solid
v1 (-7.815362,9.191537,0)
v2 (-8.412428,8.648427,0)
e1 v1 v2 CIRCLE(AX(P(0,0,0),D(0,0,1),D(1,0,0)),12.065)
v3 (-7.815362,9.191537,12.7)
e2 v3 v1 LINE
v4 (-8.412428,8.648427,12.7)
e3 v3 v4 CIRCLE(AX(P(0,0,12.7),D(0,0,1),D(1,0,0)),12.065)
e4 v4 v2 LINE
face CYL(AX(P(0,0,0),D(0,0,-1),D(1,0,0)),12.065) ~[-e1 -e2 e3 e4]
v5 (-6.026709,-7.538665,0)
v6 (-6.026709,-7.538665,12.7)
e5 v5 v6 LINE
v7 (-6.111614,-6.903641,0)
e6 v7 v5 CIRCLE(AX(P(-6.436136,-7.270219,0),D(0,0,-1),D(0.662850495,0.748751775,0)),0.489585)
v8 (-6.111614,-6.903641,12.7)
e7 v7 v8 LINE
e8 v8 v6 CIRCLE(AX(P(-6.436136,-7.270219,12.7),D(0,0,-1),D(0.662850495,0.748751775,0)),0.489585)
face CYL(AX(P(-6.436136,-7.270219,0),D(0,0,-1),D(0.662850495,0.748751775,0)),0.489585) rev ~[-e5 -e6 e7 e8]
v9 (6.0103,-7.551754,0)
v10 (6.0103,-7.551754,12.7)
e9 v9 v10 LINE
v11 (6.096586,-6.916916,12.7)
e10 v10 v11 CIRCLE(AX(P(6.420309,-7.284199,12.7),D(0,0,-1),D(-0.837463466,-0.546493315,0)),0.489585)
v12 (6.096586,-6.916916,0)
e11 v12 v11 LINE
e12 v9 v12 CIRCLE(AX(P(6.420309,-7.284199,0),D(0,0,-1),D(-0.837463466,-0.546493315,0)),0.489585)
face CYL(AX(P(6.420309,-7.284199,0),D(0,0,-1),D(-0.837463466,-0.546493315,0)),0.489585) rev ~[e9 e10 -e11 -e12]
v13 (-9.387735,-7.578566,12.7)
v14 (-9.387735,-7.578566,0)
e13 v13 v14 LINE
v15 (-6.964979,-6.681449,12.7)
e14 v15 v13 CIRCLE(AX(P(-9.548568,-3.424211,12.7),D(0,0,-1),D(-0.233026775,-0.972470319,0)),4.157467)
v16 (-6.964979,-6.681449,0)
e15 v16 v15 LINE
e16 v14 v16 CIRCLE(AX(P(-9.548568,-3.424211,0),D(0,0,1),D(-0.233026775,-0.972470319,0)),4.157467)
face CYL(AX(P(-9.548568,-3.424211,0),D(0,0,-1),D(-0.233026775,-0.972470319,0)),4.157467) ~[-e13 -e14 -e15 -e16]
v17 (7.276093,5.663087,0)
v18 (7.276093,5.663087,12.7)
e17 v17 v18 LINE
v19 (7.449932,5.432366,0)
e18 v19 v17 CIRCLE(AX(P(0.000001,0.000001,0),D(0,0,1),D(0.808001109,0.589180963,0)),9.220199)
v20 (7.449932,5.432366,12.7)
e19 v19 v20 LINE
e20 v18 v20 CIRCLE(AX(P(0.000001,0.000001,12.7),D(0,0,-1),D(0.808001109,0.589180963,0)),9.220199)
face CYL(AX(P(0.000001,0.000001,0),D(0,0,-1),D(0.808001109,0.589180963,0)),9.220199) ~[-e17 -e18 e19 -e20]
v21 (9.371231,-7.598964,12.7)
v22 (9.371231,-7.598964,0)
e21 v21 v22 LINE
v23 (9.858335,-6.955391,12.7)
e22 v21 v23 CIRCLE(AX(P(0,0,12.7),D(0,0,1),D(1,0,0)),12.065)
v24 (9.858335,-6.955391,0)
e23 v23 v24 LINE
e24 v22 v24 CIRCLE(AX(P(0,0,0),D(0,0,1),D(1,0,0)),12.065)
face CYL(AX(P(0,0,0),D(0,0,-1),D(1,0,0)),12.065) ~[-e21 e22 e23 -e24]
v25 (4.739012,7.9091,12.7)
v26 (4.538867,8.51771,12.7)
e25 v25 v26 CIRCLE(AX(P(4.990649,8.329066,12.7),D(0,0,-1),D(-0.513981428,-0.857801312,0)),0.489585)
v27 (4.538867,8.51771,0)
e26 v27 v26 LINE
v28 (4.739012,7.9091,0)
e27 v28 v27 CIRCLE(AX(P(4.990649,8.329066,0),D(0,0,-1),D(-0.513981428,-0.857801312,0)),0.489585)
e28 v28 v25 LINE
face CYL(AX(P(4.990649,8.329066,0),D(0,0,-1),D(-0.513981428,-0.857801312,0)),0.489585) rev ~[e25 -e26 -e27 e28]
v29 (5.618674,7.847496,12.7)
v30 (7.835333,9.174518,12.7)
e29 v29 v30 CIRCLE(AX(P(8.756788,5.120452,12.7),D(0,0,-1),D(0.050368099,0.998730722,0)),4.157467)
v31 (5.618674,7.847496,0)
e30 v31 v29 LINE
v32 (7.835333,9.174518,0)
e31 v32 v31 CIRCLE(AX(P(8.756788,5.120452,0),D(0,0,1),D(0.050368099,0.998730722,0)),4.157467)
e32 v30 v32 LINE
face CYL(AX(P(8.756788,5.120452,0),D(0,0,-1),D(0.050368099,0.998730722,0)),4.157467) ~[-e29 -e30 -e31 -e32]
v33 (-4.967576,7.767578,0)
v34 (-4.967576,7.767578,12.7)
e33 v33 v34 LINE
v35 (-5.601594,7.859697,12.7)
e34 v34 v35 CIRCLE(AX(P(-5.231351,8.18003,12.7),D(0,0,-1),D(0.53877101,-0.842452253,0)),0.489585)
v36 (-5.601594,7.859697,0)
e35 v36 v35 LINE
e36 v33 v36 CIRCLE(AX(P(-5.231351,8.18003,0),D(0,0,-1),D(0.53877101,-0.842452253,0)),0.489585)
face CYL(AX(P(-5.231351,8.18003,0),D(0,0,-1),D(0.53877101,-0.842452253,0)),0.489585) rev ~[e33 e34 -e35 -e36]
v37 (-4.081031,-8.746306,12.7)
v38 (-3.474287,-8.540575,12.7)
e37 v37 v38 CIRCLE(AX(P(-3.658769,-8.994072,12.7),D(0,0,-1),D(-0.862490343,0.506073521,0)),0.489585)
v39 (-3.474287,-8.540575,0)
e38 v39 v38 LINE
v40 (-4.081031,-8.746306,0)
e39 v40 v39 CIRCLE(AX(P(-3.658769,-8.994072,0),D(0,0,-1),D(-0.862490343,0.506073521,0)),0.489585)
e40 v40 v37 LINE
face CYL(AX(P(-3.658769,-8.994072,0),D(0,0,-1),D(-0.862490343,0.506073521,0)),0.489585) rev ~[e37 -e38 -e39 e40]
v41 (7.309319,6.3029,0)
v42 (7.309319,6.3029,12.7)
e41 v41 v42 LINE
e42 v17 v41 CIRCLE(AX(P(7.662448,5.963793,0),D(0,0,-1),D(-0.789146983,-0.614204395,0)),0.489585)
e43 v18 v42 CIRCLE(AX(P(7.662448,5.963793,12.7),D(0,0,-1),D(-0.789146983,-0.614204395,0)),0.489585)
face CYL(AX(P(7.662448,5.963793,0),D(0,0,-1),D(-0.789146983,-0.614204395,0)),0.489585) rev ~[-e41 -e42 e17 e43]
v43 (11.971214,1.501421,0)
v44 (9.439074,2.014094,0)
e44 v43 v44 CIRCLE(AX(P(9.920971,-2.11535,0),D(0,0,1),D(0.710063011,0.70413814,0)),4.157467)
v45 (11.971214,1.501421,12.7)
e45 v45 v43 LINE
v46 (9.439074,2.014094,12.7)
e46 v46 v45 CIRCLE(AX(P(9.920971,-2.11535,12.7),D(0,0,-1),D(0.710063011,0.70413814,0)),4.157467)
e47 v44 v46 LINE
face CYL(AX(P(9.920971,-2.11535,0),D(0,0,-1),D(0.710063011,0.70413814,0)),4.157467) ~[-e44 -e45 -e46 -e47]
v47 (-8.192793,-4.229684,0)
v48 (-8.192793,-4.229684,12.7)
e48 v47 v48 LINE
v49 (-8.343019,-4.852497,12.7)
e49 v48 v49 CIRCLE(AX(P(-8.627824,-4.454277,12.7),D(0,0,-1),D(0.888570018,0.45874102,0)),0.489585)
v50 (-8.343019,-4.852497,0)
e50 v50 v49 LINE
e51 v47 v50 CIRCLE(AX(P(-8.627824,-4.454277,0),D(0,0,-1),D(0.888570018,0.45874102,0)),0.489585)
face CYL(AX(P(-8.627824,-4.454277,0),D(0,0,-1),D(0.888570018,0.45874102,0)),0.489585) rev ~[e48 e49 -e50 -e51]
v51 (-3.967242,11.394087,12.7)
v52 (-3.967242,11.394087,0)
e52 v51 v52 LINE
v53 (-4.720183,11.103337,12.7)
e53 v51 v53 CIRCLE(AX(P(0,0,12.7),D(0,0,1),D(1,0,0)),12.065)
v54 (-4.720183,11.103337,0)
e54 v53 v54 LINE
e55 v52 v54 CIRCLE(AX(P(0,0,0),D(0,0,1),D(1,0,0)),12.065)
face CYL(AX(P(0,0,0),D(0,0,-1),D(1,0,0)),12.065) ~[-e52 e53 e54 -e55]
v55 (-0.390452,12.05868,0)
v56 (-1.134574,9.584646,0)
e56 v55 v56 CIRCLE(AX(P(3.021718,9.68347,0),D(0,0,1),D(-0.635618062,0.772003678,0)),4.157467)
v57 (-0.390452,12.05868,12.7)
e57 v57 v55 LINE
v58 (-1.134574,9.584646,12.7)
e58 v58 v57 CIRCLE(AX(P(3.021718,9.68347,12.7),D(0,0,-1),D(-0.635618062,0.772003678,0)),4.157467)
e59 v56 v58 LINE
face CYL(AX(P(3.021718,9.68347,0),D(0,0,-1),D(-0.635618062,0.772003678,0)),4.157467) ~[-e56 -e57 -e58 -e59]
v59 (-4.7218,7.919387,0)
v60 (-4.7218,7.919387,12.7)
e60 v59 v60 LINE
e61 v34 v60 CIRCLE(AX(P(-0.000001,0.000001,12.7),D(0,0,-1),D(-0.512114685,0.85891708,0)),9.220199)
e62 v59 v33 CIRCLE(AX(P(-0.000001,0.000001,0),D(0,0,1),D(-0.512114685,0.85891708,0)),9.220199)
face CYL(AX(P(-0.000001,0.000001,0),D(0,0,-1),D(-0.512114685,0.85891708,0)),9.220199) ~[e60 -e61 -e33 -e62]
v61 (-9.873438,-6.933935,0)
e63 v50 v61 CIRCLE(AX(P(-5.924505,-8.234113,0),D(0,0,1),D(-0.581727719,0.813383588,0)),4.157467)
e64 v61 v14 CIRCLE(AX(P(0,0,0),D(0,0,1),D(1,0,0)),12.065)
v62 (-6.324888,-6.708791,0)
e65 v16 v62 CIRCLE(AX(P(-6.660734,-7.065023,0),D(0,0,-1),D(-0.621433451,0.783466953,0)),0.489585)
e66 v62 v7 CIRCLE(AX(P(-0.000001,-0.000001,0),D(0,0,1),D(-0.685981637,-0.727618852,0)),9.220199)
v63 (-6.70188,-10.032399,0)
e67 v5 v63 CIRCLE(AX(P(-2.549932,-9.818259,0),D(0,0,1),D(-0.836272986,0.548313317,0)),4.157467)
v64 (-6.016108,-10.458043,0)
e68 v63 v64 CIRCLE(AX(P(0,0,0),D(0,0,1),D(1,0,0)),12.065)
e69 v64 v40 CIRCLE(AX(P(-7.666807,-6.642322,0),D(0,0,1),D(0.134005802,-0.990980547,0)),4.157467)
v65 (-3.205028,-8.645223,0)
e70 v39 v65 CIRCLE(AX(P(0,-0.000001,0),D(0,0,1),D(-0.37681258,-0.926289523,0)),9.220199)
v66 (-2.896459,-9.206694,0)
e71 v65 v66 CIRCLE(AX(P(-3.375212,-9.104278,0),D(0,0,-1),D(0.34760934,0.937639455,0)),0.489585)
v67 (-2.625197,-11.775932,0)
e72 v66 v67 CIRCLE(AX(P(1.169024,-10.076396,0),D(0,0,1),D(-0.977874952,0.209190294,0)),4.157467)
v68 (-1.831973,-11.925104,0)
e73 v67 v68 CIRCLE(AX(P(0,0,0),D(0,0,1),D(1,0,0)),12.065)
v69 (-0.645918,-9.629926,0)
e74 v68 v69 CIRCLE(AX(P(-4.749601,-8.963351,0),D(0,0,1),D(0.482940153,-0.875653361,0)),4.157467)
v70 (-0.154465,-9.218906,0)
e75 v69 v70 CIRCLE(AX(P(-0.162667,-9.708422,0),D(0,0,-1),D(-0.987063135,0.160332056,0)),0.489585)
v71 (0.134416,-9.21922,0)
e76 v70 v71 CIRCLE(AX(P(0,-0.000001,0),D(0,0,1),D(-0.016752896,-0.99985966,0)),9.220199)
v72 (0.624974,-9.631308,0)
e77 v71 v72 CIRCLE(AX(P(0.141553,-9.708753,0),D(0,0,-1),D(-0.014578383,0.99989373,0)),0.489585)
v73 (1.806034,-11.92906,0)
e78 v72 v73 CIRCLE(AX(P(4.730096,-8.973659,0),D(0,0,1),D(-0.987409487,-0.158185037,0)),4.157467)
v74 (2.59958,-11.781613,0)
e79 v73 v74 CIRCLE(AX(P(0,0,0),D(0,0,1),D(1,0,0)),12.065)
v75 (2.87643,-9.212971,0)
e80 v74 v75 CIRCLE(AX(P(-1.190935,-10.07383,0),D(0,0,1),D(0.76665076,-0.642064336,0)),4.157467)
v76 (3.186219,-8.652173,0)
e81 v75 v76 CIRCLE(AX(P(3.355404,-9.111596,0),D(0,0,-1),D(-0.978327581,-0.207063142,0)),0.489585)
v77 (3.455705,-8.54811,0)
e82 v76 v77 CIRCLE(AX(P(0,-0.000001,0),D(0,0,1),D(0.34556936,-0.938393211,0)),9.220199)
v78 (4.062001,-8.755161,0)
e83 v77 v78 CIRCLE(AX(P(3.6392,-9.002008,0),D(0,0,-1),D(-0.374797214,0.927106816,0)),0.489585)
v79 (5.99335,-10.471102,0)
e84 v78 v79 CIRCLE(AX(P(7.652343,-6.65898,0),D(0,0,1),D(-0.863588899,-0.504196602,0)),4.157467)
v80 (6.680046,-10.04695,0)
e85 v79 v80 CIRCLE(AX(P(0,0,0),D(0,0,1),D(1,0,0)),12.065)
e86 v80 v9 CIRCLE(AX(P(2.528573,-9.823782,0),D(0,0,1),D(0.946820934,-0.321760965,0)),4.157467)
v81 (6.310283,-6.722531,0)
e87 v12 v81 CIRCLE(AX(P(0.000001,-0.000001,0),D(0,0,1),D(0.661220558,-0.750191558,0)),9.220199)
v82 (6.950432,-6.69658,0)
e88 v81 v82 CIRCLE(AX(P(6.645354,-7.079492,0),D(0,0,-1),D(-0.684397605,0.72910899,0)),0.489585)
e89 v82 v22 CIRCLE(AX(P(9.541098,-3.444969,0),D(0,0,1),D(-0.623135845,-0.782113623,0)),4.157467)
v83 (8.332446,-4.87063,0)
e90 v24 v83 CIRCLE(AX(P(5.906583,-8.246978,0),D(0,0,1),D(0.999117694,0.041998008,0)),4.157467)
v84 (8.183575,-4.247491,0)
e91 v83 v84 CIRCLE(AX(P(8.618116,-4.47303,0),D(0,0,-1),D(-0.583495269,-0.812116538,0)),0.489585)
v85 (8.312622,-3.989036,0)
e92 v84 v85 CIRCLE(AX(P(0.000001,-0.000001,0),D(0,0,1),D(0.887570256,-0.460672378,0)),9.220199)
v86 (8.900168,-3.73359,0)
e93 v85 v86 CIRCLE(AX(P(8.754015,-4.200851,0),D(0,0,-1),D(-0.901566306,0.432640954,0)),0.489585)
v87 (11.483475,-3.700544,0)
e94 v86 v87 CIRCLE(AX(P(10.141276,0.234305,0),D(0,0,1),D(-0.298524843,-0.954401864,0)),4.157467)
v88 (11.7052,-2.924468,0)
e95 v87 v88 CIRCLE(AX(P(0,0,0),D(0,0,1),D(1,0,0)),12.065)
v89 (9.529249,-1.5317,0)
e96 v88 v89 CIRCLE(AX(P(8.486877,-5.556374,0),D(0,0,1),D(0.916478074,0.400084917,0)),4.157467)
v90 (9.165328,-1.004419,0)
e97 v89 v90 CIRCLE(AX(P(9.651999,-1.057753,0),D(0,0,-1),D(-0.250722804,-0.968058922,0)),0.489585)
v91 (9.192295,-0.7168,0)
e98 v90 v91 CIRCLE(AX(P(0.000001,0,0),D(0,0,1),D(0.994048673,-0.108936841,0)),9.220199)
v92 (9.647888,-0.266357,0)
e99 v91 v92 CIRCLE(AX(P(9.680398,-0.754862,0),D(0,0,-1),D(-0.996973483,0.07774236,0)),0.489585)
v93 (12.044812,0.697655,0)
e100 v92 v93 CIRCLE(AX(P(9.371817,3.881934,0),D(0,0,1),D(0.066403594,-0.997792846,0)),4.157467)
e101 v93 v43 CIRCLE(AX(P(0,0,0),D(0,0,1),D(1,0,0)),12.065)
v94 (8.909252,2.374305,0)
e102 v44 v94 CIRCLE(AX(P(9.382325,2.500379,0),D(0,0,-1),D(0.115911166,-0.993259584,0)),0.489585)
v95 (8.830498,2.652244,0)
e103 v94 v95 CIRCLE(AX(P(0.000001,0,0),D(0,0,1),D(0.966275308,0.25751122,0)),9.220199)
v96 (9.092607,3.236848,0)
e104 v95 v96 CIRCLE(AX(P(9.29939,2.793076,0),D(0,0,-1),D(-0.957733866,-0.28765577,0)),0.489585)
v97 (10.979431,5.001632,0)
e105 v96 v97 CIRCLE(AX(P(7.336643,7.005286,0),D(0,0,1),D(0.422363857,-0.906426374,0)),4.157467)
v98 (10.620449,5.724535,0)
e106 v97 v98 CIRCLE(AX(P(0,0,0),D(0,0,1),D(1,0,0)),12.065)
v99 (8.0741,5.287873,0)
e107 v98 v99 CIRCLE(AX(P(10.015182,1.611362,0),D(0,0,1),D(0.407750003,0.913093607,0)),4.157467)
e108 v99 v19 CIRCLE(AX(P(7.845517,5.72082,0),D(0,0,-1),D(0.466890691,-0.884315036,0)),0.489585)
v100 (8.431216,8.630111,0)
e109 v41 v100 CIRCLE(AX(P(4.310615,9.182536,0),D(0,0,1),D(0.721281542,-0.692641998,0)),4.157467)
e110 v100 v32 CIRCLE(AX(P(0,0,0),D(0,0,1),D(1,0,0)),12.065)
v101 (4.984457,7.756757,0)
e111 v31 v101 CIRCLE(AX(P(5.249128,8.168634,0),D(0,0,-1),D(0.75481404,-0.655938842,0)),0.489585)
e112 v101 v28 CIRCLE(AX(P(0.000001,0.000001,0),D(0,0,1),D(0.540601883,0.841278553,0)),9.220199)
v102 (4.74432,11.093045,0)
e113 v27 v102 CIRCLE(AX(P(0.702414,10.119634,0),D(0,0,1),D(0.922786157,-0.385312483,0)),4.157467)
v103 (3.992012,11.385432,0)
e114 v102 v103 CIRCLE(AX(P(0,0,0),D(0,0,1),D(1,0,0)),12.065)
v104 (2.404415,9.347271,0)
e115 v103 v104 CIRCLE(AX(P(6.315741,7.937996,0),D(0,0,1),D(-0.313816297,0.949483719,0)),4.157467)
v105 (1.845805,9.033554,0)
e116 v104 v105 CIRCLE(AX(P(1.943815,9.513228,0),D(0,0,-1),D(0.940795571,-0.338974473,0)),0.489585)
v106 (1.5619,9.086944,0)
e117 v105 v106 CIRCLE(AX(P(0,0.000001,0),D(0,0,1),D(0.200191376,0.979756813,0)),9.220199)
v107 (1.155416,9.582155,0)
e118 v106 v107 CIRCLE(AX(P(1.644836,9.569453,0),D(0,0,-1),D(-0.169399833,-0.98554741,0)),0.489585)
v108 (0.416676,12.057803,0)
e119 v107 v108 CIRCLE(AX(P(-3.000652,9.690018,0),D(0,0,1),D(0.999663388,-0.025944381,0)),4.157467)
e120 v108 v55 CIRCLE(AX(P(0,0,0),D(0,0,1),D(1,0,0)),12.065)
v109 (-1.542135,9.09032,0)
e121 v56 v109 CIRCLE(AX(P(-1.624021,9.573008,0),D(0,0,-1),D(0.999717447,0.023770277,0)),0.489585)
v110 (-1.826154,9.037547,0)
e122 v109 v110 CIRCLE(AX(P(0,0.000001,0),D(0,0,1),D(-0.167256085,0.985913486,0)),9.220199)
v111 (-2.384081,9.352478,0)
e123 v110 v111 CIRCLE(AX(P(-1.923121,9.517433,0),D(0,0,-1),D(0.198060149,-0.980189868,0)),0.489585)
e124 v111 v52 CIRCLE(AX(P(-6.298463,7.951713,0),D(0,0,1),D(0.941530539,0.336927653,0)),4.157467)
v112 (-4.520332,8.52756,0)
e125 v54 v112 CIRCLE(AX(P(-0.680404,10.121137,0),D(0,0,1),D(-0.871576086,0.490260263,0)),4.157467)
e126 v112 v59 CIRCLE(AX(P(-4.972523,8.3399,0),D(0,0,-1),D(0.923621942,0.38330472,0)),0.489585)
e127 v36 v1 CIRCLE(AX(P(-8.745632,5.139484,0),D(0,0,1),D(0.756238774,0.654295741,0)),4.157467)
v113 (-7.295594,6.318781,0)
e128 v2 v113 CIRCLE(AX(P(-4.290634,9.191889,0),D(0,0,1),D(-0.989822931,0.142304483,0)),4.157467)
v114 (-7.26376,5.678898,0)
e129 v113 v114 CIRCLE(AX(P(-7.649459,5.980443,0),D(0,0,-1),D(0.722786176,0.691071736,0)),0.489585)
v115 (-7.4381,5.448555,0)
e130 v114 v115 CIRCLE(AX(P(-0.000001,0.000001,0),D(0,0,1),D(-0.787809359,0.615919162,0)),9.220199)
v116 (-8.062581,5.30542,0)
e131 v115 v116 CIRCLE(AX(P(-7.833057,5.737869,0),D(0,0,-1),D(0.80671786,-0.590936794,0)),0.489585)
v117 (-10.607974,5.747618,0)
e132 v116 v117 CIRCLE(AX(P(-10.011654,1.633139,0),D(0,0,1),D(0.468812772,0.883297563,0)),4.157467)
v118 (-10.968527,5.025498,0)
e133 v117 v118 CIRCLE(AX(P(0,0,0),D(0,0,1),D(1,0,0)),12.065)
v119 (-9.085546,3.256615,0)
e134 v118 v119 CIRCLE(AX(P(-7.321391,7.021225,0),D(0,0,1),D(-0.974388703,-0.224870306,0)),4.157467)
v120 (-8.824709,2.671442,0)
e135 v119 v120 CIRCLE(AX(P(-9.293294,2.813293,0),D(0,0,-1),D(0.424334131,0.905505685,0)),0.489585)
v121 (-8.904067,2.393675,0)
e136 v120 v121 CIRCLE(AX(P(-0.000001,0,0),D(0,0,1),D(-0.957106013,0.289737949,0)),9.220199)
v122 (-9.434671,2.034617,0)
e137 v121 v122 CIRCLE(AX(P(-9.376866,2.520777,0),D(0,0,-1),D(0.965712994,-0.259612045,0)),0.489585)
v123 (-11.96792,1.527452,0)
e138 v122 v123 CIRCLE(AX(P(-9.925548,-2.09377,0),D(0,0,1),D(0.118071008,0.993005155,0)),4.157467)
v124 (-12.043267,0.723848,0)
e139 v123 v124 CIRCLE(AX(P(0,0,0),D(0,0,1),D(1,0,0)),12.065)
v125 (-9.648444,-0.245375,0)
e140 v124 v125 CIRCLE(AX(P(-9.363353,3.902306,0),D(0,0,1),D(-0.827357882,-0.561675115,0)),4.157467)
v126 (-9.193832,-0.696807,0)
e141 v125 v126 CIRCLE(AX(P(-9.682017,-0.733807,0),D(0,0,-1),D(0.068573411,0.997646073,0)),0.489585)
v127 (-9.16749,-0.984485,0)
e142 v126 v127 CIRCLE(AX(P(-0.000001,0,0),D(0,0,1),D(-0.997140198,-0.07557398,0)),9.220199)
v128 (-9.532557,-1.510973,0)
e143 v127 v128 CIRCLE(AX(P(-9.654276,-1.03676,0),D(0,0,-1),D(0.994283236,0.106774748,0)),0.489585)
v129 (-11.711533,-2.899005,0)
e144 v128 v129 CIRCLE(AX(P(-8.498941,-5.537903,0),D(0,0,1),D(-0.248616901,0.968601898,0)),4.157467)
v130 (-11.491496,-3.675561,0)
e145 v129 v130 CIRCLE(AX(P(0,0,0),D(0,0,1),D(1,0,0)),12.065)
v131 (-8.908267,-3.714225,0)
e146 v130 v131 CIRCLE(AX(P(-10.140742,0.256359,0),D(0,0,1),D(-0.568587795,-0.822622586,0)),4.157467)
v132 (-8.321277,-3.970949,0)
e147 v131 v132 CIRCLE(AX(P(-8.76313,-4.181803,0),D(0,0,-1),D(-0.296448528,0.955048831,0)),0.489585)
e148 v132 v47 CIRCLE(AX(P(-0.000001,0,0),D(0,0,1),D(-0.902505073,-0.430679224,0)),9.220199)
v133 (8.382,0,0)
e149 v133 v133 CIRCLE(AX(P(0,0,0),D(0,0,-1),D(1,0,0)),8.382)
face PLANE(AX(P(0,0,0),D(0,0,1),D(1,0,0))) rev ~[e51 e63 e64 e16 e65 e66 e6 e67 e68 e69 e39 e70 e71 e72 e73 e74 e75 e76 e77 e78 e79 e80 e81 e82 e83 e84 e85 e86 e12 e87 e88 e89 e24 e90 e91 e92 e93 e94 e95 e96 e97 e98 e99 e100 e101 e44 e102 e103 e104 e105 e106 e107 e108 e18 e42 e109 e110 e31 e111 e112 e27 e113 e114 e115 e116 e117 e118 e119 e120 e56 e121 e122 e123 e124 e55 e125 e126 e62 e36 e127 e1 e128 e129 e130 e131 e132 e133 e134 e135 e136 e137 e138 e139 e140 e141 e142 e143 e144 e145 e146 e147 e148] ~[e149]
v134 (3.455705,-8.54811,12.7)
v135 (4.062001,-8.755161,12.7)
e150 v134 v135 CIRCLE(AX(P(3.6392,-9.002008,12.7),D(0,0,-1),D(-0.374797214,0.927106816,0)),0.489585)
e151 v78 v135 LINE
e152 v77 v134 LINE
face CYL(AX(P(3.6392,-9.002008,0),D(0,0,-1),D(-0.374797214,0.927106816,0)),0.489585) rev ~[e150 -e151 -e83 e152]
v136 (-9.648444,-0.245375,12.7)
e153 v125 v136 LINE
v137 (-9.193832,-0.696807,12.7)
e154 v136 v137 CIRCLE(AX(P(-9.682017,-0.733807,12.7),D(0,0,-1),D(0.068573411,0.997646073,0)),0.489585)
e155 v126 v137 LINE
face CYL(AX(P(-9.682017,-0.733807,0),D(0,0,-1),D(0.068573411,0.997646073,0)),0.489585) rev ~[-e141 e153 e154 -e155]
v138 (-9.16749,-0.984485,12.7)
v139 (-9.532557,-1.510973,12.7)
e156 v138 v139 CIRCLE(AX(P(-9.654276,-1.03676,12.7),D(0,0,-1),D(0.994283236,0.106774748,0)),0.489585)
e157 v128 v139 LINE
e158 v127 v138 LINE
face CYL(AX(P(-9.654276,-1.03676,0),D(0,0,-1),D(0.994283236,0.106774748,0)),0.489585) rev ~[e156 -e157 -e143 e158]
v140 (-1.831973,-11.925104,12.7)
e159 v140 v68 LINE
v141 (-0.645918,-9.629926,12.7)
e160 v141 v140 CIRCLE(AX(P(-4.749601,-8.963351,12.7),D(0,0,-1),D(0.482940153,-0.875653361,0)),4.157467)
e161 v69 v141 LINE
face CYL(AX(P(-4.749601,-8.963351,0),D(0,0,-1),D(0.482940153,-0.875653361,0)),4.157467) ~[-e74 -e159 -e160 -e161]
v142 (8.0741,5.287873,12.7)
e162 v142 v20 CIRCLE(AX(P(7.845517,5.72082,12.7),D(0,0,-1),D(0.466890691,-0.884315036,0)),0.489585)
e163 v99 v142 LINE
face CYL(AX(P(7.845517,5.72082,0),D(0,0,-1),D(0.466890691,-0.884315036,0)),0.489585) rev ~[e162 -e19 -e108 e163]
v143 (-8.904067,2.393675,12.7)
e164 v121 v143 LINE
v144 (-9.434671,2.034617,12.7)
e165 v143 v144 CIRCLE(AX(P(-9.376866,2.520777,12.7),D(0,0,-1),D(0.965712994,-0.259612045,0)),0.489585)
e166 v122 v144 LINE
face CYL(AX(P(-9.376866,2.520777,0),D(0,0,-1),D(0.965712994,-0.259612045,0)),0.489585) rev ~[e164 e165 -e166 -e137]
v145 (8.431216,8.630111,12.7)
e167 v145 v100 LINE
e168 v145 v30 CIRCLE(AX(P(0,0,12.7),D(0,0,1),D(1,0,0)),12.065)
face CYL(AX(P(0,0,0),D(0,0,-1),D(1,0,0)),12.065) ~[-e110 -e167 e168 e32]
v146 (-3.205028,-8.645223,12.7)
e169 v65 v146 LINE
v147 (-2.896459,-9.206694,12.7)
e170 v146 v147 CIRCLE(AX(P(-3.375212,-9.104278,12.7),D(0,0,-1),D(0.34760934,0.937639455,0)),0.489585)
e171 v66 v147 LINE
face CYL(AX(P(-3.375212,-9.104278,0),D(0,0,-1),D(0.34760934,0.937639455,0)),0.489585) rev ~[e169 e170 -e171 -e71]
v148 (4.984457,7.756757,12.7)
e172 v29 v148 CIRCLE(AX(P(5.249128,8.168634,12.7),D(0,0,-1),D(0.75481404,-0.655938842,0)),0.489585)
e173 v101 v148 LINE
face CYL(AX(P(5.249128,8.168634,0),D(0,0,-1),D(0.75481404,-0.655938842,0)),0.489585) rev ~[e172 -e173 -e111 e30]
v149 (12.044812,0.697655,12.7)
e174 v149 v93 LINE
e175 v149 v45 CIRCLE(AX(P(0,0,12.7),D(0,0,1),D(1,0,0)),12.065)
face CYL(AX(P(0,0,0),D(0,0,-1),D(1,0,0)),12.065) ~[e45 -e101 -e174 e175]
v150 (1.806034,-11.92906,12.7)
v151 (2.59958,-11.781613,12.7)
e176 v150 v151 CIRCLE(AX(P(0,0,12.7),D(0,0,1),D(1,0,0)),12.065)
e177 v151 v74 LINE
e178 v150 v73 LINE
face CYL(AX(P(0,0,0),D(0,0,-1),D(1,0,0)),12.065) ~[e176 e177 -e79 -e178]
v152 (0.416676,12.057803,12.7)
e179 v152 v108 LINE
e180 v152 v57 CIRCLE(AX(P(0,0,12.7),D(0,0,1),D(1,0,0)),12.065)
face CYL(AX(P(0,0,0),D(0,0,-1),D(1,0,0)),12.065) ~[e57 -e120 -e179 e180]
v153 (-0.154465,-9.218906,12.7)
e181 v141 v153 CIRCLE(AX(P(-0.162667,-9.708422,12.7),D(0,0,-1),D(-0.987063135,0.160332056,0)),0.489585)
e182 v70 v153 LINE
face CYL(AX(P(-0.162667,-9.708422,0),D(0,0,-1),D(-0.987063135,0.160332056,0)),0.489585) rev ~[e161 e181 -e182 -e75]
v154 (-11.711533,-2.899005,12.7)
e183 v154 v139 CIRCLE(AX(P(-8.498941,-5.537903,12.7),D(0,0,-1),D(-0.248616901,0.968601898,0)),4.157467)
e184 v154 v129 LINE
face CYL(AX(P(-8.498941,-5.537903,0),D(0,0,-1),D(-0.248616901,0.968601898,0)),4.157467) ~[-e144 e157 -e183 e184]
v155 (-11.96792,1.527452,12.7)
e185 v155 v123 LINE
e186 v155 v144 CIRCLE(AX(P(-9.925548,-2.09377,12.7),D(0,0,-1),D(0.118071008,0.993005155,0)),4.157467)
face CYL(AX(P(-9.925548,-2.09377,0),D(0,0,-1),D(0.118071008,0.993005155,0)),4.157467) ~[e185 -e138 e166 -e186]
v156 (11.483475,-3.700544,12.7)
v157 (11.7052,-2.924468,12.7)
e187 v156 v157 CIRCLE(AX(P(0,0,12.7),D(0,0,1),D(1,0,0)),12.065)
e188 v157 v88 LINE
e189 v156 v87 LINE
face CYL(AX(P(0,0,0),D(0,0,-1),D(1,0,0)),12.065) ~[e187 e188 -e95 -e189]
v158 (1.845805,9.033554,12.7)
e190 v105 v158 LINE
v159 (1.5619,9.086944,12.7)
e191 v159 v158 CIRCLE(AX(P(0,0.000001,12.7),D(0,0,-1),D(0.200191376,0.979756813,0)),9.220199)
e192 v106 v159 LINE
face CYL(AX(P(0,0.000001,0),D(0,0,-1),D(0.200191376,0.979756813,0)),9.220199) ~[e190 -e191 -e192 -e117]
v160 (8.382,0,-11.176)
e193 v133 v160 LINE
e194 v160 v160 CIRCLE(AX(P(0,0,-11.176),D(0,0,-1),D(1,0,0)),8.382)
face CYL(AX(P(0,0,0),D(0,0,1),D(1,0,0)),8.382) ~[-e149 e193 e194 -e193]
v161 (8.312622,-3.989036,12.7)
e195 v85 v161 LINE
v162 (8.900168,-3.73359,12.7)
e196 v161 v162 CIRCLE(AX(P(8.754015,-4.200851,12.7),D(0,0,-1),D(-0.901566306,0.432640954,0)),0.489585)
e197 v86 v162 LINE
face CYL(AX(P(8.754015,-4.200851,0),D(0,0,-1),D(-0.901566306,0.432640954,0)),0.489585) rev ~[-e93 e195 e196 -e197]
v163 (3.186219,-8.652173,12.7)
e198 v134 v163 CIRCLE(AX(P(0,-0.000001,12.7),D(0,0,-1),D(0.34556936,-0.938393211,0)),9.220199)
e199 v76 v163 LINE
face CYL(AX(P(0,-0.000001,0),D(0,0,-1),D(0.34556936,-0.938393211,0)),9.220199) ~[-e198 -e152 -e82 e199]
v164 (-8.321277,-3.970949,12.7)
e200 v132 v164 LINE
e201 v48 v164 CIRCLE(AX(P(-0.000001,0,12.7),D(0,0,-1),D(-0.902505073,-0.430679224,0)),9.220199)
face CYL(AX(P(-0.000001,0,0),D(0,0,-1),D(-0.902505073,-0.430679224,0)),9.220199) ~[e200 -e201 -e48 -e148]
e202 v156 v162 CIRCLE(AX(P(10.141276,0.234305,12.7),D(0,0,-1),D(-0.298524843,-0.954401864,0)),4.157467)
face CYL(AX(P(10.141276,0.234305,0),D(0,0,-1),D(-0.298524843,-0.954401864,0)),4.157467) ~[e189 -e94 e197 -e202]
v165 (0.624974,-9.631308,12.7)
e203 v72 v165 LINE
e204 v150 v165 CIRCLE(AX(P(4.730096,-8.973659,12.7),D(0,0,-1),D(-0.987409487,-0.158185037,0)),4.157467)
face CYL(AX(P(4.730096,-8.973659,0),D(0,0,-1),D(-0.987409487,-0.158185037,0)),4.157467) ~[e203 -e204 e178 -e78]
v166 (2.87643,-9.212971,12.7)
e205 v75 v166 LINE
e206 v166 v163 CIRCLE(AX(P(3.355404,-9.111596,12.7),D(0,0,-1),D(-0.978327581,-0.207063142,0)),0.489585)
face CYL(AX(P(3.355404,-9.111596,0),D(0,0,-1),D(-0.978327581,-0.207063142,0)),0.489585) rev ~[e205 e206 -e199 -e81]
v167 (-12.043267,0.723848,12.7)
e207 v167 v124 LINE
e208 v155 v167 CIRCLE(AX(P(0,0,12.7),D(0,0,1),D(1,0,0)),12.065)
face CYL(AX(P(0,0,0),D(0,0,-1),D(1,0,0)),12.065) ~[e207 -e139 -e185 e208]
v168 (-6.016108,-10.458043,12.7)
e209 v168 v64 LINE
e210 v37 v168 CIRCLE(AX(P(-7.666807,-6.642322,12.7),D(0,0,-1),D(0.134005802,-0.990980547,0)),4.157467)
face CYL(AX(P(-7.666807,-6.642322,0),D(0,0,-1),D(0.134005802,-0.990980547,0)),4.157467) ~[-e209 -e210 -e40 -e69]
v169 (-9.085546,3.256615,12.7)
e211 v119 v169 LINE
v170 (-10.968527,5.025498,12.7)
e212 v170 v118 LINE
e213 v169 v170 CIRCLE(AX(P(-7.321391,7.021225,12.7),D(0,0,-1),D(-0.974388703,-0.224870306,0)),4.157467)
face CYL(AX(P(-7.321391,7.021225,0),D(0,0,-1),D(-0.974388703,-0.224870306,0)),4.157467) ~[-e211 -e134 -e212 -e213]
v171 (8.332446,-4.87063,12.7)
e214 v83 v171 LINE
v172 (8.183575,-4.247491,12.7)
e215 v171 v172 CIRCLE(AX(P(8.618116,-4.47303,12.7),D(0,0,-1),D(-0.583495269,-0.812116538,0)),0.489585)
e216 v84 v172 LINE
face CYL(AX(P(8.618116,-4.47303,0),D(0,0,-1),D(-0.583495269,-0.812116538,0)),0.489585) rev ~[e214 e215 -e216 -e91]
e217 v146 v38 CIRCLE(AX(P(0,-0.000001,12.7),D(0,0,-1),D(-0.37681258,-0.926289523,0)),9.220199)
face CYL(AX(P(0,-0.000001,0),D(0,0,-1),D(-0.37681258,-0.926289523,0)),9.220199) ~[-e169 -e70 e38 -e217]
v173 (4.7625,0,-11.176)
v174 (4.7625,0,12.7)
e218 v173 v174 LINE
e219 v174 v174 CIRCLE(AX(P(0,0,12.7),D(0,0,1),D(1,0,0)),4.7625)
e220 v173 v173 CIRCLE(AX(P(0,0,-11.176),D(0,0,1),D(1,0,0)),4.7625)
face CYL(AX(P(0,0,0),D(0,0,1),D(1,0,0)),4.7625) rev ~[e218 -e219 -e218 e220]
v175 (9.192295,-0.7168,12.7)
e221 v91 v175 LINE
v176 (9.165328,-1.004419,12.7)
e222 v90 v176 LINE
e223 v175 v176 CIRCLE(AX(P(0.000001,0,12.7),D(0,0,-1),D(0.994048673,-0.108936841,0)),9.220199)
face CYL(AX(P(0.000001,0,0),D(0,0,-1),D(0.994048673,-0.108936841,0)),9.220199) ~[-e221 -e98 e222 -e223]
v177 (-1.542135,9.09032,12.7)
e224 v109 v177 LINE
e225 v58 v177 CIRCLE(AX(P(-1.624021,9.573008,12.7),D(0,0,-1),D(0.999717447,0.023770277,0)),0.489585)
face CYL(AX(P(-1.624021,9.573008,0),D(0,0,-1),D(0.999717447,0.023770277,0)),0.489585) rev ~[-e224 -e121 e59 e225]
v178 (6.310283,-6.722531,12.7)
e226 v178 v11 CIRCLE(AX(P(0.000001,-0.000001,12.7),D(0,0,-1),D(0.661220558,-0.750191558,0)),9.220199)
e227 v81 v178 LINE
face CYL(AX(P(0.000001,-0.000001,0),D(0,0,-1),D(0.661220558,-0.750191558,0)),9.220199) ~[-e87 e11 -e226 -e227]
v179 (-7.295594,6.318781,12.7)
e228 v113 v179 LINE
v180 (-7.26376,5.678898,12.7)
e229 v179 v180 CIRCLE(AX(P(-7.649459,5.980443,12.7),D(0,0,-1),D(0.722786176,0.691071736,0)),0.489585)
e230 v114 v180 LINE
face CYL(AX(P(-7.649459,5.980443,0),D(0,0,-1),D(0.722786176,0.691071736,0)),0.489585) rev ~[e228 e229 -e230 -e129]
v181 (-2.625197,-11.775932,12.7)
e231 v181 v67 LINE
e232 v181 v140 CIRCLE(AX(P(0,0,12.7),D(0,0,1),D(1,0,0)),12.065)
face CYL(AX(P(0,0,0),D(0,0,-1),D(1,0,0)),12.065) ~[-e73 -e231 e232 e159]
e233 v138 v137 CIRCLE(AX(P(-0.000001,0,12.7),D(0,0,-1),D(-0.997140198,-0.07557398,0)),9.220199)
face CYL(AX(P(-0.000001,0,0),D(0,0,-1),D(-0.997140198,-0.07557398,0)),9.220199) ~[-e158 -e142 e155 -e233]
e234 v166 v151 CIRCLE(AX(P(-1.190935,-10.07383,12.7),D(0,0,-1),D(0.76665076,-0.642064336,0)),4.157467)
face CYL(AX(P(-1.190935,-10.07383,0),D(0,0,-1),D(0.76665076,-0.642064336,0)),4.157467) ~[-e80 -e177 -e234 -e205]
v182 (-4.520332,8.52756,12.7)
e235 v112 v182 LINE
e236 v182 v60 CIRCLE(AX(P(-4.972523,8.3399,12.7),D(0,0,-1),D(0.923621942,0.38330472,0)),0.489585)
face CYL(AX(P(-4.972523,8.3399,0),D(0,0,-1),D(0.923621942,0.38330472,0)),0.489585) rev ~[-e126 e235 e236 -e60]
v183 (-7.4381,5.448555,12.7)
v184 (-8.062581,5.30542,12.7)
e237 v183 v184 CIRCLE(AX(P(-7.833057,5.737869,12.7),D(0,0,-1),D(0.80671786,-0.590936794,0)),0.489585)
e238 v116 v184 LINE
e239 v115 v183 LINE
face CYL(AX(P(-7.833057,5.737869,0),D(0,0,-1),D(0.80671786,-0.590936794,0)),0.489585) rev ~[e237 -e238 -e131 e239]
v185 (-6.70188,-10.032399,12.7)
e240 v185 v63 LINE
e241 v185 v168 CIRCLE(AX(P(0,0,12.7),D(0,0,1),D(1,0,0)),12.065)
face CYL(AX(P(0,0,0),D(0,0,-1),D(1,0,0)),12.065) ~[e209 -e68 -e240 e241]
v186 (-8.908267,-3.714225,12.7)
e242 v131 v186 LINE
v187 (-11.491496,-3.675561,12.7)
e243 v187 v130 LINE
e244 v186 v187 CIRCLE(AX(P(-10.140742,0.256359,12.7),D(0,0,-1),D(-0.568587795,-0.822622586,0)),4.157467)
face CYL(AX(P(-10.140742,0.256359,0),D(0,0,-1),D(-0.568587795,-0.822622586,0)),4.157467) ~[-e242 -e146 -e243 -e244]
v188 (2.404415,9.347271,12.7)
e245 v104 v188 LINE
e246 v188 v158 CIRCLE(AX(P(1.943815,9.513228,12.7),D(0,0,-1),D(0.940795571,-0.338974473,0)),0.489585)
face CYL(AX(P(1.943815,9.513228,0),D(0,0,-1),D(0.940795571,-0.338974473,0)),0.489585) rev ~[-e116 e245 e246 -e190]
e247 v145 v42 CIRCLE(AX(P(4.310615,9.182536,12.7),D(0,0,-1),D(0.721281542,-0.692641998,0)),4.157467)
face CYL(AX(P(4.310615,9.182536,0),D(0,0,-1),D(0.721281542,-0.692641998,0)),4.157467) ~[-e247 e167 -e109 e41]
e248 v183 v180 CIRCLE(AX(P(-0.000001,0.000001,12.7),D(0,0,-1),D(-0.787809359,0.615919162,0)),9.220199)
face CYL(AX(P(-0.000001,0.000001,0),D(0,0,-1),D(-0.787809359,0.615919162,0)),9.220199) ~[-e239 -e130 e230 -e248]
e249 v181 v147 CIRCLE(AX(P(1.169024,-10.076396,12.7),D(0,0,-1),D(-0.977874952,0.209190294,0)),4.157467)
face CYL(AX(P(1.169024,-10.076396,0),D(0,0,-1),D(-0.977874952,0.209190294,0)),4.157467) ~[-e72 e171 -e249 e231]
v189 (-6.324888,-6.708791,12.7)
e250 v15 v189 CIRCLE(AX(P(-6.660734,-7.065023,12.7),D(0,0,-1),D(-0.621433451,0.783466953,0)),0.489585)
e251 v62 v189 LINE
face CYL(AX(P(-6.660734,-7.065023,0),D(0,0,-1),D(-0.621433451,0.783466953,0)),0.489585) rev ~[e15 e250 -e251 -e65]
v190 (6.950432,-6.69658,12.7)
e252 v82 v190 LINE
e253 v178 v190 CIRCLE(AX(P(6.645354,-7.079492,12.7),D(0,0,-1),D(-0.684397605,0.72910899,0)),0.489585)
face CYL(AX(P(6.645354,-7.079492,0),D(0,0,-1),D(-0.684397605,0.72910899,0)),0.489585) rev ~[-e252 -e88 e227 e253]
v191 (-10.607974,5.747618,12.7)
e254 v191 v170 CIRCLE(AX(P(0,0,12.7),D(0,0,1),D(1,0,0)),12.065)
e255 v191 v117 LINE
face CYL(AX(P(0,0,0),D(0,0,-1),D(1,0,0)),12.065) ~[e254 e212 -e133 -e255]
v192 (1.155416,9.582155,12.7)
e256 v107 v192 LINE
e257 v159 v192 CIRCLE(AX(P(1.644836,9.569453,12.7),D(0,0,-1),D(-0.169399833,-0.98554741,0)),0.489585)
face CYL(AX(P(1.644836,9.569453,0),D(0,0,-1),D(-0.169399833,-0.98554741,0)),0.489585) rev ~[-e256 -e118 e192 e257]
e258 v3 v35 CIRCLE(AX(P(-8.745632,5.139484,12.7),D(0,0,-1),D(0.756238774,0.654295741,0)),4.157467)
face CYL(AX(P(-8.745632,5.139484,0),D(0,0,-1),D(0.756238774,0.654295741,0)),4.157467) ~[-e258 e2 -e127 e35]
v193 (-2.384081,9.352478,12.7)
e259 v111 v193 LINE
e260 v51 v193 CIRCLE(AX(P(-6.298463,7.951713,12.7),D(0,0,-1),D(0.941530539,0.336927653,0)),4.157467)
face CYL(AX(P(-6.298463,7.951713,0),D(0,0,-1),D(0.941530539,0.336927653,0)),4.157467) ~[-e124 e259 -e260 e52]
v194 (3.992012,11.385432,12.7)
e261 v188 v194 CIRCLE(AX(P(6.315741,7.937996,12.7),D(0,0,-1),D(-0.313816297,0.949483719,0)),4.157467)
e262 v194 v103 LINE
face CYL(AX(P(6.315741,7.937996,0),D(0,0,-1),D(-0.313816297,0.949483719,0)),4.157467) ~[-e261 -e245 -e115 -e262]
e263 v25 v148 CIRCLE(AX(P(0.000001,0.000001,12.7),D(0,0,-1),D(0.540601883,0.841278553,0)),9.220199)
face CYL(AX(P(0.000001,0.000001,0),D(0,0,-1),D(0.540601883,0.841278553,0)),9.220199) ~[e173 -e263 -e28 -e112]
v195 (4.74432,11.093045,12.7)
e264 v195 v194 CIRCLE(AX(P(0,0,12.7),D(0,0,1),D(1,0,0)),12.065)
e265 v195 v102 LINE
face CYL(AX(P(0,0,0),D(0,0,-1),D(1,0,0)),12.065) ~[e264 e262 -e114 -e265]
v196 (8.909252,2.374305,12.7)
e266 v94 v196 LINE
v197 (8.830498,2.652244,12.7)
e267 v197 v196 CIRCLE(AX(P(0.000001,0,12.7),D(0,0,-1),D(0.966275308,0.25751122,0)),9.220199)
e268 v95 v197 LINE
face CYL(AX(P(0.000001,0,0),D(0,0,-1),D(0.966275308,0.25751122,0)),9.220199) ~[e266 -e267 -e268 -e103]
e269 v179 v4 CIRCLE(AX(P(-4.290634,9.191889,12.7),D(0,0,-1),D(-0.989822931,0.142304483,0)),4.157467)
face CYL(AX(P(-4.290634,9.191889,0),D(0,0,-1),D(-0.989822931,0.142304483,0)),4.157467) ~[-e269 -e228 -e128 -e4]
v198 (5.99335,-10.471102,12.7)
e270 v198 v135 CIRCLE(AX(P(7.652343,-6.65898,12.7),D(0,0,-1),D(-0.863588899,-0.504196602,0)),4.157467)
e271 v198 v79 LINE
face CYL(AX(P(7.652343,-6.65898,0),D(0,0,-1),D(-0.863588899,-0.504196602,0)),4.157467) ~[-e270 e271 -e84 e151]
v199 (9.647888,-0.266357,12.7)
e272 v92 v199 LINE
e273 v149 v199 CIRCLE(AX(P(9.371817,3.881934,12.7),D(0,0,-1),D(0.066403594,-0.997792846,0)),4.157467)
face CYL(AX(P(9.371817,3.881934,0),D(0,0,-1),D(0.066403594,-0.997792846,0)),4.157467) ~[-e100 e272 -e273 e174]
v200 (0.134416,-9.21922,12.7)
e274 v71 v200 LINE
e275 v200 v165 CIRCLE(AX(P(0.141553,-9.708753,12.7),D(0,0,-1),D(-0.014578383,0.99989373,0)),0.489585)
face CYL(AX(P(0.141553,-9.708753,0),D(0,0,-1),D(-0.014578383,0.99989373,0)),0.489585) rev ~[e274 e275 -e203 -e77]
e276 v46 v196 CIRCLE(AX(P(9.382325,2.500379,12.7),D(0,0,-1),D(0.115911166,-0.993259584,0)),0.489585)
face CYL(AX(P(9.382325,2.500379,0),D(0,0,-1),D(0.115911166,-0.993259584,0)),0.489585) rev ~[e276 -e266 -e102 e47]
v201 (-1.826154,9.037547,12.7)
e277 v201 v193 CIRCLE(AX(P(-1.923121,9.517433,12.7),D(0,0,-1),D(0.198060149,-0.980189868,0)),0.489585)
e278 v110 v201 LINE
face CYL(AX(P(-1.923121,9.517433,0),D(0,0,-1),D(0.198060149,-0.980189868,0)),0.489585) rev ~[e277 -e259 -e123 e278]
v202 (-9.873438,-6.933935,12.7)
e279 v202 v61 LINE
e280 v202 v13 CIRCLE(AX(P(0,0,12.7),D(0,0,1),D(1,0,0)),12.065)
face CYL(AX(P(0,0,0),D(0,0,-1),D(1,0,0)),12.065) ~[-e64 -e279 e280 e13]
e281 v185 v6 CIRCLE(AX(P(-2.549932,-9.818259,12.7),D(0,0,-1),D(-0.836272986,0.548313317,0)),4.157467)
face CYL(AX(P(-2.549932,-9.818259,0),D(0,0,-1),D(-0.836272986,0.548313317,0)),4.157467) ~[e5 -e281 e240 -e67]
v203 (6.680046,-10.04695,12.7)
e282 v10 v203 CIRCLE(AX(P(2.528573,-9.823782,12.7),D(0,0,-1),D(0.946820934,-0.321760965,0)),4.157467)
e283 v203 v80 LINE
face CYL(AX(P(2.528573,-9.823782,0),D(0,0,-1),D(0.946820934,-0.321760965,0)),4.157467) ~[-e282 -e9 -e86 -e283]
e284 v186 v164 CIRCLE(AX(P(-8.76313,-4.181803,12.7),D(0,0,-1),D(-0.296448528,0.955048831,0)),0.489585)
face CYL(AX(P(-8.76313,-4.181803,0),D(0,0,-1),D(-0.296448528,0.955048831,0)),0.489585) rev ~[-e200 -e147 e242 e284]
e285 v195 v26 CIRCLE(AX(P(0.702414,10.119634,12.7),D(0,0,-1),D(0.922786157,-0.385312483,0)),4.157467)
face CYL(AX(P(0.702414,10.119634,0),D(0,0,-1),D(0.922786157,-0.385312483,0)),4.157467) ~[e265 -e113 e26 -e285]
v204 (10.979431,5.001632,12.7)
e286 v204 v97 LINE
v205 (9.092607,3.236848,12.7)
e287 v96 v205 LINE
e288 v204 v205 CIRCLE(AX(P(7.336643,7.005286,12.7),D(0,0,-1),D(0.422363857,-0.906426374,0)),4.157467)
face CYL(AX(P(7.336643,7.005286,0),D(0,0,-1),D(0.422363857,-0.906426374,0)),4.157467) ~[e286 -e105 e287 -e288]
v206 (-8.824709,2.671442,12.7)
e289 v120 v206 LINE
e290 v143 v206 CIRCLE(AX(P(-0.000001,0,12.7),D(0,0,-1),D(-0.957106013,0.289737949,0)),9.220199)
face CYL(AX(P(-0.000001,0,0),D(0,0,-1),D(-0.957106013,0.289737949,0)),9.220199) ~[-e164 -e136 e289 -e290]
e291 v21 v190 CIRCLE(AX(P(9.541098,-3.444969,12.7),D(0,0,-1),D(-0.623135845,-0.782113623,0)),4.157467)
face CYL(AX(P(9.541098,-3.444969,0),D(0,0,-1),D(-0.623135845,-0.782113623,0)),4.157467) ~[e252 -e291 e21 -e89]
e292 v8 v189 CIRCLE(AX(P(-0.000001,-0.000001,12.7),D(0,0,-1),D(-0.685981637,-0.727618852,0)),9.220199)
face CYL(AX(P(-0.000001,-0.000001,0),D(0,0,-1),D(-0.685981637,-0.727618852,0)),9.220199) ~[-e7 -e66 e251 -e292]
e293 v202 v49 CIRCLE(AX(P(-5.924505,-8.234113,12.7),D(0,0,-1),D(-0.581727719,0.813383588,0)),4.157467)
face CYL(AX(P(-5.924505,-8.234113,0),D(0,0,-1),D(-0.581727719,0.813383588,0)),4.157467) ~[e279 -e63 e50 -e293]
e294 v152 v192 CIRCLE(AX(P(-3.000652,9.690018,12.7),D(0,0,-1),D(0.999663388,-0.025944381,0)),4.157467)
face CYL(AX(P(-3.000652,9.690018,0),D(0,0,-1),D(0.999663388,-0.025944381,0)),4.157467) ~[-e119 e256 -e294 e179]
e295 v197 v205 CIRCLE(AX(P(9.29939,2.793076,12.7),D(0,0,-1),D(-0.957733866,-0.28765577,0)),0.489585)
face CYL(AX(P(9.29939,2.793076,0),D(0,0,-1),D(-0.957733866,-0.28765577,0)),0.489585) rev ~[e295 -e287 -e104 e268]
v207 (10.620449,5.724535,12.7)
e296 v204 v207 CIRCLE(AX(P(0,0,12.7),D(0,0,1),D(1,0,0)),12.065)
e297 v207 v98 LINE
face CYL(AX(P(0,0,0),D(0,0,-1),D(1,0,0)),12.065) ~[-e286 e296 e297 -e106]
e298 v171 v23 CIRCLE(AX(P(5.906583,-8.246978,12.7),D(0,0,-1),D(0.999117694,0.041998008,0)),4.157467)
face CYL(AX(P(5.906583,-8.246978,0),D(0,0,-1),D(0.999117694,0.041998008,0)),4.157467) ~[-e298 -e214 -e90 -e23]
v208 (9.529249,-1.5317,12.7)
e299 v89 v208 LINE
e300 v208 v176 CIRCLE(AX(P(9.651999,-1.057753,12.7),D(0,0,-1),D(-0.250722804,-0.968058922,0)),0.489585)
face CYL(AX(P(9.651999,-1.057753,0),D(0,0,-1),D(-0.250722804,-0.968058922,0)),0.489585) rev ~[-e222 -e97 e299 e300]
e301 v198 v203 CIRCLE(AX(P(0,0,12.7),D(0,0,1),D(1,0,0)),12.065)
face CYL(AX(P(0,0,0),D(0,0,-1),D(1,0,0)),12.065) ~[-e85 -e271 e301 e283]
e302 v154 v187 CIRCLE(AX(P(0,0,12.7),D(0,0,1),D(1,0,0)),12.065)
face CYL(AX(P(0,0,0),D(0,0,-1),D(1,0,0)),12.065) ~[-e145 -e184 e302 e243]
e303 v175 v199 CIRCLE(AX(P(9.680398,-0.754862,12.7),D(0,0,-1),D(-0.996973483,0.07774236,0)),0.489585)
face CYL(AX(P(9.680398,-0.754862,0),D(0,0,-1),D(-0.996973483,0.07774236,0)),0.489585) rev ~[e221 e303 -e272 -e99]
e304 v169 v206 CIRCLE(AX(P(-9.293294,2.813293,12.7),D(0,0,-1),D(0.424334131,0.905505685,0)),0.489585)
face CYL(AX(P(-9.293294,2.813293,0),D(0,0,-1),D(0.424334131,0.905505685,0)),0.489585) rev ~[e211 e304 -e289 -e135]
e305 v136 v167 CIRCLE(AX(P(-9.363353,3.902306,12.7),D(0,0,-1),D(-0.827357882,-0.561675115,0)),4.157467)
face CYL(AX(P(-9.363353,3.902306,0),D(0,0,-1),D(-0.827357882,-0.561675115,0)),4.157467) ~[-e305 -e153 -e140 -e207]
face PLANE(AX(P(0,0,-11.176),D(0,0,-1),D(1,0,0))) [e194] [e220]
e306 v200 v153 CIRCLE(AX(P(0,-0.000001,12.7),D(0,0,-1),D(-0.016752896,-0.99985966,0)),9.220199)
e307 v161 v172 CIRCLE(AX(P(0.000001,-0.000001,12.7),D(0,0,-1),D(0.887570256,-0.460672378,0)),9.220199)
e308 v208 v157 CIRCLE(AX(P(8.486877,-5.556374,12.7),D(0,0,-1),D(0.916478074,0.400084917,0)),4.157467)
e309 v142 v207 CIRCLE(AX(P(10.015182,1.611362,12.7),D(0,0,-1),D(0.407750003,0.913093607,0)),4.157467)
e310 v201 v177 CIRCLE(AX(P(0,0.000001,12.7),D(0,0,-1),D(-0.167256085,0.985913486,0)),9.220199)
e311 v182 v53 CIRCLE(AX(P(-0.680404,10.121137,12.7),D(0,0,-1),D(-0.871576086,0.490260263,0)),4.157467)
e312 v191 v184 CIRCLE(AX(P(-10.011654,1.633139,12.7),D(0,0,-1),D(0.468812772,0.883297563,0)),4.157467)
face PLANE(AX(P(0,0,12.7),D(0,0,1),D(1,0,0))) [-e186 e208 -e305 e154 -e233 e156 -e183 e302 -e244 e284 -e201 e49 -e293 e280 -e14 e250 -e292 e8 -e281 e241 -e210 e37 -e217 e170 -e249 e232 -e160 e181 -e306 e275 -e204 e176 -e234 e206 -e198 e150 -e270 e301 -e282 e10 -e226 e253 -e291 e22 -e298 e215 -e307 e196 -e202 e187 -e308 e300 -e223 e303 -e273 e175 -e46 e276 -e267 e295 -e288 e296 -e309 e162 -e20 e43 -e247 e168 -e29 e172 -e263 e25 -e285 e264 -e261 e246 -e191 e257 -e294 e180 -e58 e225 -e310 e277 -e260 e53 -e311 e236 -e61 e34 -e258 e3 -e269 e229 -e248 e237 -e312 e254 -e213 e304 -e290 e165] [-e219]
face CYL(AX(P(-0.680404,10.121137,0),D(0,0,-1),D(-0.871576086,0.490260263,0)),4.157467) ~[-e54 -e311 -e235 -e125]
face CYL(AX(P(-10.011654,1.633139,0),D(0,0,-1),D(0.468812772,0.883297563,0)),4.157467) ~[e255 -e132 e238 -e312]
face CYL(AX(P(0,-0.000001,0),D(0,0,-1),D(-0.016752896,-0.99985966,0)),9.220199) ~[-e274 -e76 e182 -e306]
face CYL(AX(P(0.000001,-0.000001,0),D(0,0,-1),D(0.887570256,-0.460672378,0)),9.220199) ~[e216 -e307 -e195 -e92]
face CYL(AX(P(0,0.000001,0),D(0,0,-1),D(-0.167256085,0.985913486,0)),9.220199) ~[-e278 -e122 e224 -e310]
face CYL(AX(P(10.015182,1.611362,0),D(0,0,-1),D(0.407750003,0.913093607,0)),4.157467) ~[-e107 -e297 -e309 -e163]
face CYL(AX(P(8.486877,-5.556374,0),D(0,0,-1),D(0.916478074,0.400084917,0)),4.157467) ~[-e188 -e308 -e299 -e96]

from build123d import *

# Parameters (mm, degrees)
SKETCH3_R         = 12.065
GEARBODY_DEPTH    = 12.7
TOOTHCUT_DEPTH    = 22.270130465
CIRPATTERN1_COUNT = 17
HUB1DIA_R         = 8.382000333
HUB1_DEPTH        = 11.175999939
BOREDIA_R         = 4.7625
BORE_DEPTH        = 12700


with BuildPart() as part:
    # Sketch3 → gearBody (new body)
    with BuildSketch(Plane.XY):
        Circle(SKETCH3_R)
    extrude(amount=GEARBODY_DEPTH)

    # Sketch2 → toothCut (cut, through all)
    with BuildSketch(Plane.XY):
        with BuildLine():
            ThreePointArc((9.165327575, -1.00441948), (9.179937747, -0.860715402), (9.192294908, -0.71680008))
            ThreePointArc((9.192294908, -0.71680008), (9.336182685, -0.406710497), (9.647887968, -0.266357162))
            ThreePointArc((9.647887968, -0.266357162), (11.435171232, 0.272625956), (12.806443829, 1.539312867))
            ThreePointArc((12.806443829, 1.539312867), (12.842298492, -1.204100116), (12.29710439, -3.893033686))
            ThreePointArc((12.29710439, -3.893033686), (11.185191898, -2.39352214), (9.529248769, -1.531700451))
            ThreePointArc((9.529248769, -1.531700451), (9.249065984, -1.335851405), (9.165327575, -1.00441948))
        make_face()
    toothcut = extrude(amount=TOOTHCUT_DEPTH, mode=Mode.SUBTRACT)

    # CirPattern1: toothCut ×17 about axis
    cirpattern1_axis = Axis((0, 0, 0), (0, 0, 1))
    for i in range(1, CIRPATTERN1_COUNT):
        add(toothcut.rotate(cirpattern1_axis, i * 360 / CIRPATTERN1_COUNT), mode=Mode.SUBTRACT)

    # hub1Dia → hub1 (add)
    with BuildSketch(Plane(origin=(0, 0, 0), x_dir=(-1, 0, 0), z_dir=(0, 0, -1))):
        with Locations(Location((0, 0, 0), (0, 0, 180))):
            Circle(HUB1DIA_R)
    extrude(amount=HUB1_DEPTH)

    # boreDia → bore (cut, symmetric)
    with BuildSketch(Plane.XY):
        Circle(BOREDIA_R)
    extrude(amount=BORE_DEPTH, both=True, mode=Mode.SUBTRACT)


solid = part.part
